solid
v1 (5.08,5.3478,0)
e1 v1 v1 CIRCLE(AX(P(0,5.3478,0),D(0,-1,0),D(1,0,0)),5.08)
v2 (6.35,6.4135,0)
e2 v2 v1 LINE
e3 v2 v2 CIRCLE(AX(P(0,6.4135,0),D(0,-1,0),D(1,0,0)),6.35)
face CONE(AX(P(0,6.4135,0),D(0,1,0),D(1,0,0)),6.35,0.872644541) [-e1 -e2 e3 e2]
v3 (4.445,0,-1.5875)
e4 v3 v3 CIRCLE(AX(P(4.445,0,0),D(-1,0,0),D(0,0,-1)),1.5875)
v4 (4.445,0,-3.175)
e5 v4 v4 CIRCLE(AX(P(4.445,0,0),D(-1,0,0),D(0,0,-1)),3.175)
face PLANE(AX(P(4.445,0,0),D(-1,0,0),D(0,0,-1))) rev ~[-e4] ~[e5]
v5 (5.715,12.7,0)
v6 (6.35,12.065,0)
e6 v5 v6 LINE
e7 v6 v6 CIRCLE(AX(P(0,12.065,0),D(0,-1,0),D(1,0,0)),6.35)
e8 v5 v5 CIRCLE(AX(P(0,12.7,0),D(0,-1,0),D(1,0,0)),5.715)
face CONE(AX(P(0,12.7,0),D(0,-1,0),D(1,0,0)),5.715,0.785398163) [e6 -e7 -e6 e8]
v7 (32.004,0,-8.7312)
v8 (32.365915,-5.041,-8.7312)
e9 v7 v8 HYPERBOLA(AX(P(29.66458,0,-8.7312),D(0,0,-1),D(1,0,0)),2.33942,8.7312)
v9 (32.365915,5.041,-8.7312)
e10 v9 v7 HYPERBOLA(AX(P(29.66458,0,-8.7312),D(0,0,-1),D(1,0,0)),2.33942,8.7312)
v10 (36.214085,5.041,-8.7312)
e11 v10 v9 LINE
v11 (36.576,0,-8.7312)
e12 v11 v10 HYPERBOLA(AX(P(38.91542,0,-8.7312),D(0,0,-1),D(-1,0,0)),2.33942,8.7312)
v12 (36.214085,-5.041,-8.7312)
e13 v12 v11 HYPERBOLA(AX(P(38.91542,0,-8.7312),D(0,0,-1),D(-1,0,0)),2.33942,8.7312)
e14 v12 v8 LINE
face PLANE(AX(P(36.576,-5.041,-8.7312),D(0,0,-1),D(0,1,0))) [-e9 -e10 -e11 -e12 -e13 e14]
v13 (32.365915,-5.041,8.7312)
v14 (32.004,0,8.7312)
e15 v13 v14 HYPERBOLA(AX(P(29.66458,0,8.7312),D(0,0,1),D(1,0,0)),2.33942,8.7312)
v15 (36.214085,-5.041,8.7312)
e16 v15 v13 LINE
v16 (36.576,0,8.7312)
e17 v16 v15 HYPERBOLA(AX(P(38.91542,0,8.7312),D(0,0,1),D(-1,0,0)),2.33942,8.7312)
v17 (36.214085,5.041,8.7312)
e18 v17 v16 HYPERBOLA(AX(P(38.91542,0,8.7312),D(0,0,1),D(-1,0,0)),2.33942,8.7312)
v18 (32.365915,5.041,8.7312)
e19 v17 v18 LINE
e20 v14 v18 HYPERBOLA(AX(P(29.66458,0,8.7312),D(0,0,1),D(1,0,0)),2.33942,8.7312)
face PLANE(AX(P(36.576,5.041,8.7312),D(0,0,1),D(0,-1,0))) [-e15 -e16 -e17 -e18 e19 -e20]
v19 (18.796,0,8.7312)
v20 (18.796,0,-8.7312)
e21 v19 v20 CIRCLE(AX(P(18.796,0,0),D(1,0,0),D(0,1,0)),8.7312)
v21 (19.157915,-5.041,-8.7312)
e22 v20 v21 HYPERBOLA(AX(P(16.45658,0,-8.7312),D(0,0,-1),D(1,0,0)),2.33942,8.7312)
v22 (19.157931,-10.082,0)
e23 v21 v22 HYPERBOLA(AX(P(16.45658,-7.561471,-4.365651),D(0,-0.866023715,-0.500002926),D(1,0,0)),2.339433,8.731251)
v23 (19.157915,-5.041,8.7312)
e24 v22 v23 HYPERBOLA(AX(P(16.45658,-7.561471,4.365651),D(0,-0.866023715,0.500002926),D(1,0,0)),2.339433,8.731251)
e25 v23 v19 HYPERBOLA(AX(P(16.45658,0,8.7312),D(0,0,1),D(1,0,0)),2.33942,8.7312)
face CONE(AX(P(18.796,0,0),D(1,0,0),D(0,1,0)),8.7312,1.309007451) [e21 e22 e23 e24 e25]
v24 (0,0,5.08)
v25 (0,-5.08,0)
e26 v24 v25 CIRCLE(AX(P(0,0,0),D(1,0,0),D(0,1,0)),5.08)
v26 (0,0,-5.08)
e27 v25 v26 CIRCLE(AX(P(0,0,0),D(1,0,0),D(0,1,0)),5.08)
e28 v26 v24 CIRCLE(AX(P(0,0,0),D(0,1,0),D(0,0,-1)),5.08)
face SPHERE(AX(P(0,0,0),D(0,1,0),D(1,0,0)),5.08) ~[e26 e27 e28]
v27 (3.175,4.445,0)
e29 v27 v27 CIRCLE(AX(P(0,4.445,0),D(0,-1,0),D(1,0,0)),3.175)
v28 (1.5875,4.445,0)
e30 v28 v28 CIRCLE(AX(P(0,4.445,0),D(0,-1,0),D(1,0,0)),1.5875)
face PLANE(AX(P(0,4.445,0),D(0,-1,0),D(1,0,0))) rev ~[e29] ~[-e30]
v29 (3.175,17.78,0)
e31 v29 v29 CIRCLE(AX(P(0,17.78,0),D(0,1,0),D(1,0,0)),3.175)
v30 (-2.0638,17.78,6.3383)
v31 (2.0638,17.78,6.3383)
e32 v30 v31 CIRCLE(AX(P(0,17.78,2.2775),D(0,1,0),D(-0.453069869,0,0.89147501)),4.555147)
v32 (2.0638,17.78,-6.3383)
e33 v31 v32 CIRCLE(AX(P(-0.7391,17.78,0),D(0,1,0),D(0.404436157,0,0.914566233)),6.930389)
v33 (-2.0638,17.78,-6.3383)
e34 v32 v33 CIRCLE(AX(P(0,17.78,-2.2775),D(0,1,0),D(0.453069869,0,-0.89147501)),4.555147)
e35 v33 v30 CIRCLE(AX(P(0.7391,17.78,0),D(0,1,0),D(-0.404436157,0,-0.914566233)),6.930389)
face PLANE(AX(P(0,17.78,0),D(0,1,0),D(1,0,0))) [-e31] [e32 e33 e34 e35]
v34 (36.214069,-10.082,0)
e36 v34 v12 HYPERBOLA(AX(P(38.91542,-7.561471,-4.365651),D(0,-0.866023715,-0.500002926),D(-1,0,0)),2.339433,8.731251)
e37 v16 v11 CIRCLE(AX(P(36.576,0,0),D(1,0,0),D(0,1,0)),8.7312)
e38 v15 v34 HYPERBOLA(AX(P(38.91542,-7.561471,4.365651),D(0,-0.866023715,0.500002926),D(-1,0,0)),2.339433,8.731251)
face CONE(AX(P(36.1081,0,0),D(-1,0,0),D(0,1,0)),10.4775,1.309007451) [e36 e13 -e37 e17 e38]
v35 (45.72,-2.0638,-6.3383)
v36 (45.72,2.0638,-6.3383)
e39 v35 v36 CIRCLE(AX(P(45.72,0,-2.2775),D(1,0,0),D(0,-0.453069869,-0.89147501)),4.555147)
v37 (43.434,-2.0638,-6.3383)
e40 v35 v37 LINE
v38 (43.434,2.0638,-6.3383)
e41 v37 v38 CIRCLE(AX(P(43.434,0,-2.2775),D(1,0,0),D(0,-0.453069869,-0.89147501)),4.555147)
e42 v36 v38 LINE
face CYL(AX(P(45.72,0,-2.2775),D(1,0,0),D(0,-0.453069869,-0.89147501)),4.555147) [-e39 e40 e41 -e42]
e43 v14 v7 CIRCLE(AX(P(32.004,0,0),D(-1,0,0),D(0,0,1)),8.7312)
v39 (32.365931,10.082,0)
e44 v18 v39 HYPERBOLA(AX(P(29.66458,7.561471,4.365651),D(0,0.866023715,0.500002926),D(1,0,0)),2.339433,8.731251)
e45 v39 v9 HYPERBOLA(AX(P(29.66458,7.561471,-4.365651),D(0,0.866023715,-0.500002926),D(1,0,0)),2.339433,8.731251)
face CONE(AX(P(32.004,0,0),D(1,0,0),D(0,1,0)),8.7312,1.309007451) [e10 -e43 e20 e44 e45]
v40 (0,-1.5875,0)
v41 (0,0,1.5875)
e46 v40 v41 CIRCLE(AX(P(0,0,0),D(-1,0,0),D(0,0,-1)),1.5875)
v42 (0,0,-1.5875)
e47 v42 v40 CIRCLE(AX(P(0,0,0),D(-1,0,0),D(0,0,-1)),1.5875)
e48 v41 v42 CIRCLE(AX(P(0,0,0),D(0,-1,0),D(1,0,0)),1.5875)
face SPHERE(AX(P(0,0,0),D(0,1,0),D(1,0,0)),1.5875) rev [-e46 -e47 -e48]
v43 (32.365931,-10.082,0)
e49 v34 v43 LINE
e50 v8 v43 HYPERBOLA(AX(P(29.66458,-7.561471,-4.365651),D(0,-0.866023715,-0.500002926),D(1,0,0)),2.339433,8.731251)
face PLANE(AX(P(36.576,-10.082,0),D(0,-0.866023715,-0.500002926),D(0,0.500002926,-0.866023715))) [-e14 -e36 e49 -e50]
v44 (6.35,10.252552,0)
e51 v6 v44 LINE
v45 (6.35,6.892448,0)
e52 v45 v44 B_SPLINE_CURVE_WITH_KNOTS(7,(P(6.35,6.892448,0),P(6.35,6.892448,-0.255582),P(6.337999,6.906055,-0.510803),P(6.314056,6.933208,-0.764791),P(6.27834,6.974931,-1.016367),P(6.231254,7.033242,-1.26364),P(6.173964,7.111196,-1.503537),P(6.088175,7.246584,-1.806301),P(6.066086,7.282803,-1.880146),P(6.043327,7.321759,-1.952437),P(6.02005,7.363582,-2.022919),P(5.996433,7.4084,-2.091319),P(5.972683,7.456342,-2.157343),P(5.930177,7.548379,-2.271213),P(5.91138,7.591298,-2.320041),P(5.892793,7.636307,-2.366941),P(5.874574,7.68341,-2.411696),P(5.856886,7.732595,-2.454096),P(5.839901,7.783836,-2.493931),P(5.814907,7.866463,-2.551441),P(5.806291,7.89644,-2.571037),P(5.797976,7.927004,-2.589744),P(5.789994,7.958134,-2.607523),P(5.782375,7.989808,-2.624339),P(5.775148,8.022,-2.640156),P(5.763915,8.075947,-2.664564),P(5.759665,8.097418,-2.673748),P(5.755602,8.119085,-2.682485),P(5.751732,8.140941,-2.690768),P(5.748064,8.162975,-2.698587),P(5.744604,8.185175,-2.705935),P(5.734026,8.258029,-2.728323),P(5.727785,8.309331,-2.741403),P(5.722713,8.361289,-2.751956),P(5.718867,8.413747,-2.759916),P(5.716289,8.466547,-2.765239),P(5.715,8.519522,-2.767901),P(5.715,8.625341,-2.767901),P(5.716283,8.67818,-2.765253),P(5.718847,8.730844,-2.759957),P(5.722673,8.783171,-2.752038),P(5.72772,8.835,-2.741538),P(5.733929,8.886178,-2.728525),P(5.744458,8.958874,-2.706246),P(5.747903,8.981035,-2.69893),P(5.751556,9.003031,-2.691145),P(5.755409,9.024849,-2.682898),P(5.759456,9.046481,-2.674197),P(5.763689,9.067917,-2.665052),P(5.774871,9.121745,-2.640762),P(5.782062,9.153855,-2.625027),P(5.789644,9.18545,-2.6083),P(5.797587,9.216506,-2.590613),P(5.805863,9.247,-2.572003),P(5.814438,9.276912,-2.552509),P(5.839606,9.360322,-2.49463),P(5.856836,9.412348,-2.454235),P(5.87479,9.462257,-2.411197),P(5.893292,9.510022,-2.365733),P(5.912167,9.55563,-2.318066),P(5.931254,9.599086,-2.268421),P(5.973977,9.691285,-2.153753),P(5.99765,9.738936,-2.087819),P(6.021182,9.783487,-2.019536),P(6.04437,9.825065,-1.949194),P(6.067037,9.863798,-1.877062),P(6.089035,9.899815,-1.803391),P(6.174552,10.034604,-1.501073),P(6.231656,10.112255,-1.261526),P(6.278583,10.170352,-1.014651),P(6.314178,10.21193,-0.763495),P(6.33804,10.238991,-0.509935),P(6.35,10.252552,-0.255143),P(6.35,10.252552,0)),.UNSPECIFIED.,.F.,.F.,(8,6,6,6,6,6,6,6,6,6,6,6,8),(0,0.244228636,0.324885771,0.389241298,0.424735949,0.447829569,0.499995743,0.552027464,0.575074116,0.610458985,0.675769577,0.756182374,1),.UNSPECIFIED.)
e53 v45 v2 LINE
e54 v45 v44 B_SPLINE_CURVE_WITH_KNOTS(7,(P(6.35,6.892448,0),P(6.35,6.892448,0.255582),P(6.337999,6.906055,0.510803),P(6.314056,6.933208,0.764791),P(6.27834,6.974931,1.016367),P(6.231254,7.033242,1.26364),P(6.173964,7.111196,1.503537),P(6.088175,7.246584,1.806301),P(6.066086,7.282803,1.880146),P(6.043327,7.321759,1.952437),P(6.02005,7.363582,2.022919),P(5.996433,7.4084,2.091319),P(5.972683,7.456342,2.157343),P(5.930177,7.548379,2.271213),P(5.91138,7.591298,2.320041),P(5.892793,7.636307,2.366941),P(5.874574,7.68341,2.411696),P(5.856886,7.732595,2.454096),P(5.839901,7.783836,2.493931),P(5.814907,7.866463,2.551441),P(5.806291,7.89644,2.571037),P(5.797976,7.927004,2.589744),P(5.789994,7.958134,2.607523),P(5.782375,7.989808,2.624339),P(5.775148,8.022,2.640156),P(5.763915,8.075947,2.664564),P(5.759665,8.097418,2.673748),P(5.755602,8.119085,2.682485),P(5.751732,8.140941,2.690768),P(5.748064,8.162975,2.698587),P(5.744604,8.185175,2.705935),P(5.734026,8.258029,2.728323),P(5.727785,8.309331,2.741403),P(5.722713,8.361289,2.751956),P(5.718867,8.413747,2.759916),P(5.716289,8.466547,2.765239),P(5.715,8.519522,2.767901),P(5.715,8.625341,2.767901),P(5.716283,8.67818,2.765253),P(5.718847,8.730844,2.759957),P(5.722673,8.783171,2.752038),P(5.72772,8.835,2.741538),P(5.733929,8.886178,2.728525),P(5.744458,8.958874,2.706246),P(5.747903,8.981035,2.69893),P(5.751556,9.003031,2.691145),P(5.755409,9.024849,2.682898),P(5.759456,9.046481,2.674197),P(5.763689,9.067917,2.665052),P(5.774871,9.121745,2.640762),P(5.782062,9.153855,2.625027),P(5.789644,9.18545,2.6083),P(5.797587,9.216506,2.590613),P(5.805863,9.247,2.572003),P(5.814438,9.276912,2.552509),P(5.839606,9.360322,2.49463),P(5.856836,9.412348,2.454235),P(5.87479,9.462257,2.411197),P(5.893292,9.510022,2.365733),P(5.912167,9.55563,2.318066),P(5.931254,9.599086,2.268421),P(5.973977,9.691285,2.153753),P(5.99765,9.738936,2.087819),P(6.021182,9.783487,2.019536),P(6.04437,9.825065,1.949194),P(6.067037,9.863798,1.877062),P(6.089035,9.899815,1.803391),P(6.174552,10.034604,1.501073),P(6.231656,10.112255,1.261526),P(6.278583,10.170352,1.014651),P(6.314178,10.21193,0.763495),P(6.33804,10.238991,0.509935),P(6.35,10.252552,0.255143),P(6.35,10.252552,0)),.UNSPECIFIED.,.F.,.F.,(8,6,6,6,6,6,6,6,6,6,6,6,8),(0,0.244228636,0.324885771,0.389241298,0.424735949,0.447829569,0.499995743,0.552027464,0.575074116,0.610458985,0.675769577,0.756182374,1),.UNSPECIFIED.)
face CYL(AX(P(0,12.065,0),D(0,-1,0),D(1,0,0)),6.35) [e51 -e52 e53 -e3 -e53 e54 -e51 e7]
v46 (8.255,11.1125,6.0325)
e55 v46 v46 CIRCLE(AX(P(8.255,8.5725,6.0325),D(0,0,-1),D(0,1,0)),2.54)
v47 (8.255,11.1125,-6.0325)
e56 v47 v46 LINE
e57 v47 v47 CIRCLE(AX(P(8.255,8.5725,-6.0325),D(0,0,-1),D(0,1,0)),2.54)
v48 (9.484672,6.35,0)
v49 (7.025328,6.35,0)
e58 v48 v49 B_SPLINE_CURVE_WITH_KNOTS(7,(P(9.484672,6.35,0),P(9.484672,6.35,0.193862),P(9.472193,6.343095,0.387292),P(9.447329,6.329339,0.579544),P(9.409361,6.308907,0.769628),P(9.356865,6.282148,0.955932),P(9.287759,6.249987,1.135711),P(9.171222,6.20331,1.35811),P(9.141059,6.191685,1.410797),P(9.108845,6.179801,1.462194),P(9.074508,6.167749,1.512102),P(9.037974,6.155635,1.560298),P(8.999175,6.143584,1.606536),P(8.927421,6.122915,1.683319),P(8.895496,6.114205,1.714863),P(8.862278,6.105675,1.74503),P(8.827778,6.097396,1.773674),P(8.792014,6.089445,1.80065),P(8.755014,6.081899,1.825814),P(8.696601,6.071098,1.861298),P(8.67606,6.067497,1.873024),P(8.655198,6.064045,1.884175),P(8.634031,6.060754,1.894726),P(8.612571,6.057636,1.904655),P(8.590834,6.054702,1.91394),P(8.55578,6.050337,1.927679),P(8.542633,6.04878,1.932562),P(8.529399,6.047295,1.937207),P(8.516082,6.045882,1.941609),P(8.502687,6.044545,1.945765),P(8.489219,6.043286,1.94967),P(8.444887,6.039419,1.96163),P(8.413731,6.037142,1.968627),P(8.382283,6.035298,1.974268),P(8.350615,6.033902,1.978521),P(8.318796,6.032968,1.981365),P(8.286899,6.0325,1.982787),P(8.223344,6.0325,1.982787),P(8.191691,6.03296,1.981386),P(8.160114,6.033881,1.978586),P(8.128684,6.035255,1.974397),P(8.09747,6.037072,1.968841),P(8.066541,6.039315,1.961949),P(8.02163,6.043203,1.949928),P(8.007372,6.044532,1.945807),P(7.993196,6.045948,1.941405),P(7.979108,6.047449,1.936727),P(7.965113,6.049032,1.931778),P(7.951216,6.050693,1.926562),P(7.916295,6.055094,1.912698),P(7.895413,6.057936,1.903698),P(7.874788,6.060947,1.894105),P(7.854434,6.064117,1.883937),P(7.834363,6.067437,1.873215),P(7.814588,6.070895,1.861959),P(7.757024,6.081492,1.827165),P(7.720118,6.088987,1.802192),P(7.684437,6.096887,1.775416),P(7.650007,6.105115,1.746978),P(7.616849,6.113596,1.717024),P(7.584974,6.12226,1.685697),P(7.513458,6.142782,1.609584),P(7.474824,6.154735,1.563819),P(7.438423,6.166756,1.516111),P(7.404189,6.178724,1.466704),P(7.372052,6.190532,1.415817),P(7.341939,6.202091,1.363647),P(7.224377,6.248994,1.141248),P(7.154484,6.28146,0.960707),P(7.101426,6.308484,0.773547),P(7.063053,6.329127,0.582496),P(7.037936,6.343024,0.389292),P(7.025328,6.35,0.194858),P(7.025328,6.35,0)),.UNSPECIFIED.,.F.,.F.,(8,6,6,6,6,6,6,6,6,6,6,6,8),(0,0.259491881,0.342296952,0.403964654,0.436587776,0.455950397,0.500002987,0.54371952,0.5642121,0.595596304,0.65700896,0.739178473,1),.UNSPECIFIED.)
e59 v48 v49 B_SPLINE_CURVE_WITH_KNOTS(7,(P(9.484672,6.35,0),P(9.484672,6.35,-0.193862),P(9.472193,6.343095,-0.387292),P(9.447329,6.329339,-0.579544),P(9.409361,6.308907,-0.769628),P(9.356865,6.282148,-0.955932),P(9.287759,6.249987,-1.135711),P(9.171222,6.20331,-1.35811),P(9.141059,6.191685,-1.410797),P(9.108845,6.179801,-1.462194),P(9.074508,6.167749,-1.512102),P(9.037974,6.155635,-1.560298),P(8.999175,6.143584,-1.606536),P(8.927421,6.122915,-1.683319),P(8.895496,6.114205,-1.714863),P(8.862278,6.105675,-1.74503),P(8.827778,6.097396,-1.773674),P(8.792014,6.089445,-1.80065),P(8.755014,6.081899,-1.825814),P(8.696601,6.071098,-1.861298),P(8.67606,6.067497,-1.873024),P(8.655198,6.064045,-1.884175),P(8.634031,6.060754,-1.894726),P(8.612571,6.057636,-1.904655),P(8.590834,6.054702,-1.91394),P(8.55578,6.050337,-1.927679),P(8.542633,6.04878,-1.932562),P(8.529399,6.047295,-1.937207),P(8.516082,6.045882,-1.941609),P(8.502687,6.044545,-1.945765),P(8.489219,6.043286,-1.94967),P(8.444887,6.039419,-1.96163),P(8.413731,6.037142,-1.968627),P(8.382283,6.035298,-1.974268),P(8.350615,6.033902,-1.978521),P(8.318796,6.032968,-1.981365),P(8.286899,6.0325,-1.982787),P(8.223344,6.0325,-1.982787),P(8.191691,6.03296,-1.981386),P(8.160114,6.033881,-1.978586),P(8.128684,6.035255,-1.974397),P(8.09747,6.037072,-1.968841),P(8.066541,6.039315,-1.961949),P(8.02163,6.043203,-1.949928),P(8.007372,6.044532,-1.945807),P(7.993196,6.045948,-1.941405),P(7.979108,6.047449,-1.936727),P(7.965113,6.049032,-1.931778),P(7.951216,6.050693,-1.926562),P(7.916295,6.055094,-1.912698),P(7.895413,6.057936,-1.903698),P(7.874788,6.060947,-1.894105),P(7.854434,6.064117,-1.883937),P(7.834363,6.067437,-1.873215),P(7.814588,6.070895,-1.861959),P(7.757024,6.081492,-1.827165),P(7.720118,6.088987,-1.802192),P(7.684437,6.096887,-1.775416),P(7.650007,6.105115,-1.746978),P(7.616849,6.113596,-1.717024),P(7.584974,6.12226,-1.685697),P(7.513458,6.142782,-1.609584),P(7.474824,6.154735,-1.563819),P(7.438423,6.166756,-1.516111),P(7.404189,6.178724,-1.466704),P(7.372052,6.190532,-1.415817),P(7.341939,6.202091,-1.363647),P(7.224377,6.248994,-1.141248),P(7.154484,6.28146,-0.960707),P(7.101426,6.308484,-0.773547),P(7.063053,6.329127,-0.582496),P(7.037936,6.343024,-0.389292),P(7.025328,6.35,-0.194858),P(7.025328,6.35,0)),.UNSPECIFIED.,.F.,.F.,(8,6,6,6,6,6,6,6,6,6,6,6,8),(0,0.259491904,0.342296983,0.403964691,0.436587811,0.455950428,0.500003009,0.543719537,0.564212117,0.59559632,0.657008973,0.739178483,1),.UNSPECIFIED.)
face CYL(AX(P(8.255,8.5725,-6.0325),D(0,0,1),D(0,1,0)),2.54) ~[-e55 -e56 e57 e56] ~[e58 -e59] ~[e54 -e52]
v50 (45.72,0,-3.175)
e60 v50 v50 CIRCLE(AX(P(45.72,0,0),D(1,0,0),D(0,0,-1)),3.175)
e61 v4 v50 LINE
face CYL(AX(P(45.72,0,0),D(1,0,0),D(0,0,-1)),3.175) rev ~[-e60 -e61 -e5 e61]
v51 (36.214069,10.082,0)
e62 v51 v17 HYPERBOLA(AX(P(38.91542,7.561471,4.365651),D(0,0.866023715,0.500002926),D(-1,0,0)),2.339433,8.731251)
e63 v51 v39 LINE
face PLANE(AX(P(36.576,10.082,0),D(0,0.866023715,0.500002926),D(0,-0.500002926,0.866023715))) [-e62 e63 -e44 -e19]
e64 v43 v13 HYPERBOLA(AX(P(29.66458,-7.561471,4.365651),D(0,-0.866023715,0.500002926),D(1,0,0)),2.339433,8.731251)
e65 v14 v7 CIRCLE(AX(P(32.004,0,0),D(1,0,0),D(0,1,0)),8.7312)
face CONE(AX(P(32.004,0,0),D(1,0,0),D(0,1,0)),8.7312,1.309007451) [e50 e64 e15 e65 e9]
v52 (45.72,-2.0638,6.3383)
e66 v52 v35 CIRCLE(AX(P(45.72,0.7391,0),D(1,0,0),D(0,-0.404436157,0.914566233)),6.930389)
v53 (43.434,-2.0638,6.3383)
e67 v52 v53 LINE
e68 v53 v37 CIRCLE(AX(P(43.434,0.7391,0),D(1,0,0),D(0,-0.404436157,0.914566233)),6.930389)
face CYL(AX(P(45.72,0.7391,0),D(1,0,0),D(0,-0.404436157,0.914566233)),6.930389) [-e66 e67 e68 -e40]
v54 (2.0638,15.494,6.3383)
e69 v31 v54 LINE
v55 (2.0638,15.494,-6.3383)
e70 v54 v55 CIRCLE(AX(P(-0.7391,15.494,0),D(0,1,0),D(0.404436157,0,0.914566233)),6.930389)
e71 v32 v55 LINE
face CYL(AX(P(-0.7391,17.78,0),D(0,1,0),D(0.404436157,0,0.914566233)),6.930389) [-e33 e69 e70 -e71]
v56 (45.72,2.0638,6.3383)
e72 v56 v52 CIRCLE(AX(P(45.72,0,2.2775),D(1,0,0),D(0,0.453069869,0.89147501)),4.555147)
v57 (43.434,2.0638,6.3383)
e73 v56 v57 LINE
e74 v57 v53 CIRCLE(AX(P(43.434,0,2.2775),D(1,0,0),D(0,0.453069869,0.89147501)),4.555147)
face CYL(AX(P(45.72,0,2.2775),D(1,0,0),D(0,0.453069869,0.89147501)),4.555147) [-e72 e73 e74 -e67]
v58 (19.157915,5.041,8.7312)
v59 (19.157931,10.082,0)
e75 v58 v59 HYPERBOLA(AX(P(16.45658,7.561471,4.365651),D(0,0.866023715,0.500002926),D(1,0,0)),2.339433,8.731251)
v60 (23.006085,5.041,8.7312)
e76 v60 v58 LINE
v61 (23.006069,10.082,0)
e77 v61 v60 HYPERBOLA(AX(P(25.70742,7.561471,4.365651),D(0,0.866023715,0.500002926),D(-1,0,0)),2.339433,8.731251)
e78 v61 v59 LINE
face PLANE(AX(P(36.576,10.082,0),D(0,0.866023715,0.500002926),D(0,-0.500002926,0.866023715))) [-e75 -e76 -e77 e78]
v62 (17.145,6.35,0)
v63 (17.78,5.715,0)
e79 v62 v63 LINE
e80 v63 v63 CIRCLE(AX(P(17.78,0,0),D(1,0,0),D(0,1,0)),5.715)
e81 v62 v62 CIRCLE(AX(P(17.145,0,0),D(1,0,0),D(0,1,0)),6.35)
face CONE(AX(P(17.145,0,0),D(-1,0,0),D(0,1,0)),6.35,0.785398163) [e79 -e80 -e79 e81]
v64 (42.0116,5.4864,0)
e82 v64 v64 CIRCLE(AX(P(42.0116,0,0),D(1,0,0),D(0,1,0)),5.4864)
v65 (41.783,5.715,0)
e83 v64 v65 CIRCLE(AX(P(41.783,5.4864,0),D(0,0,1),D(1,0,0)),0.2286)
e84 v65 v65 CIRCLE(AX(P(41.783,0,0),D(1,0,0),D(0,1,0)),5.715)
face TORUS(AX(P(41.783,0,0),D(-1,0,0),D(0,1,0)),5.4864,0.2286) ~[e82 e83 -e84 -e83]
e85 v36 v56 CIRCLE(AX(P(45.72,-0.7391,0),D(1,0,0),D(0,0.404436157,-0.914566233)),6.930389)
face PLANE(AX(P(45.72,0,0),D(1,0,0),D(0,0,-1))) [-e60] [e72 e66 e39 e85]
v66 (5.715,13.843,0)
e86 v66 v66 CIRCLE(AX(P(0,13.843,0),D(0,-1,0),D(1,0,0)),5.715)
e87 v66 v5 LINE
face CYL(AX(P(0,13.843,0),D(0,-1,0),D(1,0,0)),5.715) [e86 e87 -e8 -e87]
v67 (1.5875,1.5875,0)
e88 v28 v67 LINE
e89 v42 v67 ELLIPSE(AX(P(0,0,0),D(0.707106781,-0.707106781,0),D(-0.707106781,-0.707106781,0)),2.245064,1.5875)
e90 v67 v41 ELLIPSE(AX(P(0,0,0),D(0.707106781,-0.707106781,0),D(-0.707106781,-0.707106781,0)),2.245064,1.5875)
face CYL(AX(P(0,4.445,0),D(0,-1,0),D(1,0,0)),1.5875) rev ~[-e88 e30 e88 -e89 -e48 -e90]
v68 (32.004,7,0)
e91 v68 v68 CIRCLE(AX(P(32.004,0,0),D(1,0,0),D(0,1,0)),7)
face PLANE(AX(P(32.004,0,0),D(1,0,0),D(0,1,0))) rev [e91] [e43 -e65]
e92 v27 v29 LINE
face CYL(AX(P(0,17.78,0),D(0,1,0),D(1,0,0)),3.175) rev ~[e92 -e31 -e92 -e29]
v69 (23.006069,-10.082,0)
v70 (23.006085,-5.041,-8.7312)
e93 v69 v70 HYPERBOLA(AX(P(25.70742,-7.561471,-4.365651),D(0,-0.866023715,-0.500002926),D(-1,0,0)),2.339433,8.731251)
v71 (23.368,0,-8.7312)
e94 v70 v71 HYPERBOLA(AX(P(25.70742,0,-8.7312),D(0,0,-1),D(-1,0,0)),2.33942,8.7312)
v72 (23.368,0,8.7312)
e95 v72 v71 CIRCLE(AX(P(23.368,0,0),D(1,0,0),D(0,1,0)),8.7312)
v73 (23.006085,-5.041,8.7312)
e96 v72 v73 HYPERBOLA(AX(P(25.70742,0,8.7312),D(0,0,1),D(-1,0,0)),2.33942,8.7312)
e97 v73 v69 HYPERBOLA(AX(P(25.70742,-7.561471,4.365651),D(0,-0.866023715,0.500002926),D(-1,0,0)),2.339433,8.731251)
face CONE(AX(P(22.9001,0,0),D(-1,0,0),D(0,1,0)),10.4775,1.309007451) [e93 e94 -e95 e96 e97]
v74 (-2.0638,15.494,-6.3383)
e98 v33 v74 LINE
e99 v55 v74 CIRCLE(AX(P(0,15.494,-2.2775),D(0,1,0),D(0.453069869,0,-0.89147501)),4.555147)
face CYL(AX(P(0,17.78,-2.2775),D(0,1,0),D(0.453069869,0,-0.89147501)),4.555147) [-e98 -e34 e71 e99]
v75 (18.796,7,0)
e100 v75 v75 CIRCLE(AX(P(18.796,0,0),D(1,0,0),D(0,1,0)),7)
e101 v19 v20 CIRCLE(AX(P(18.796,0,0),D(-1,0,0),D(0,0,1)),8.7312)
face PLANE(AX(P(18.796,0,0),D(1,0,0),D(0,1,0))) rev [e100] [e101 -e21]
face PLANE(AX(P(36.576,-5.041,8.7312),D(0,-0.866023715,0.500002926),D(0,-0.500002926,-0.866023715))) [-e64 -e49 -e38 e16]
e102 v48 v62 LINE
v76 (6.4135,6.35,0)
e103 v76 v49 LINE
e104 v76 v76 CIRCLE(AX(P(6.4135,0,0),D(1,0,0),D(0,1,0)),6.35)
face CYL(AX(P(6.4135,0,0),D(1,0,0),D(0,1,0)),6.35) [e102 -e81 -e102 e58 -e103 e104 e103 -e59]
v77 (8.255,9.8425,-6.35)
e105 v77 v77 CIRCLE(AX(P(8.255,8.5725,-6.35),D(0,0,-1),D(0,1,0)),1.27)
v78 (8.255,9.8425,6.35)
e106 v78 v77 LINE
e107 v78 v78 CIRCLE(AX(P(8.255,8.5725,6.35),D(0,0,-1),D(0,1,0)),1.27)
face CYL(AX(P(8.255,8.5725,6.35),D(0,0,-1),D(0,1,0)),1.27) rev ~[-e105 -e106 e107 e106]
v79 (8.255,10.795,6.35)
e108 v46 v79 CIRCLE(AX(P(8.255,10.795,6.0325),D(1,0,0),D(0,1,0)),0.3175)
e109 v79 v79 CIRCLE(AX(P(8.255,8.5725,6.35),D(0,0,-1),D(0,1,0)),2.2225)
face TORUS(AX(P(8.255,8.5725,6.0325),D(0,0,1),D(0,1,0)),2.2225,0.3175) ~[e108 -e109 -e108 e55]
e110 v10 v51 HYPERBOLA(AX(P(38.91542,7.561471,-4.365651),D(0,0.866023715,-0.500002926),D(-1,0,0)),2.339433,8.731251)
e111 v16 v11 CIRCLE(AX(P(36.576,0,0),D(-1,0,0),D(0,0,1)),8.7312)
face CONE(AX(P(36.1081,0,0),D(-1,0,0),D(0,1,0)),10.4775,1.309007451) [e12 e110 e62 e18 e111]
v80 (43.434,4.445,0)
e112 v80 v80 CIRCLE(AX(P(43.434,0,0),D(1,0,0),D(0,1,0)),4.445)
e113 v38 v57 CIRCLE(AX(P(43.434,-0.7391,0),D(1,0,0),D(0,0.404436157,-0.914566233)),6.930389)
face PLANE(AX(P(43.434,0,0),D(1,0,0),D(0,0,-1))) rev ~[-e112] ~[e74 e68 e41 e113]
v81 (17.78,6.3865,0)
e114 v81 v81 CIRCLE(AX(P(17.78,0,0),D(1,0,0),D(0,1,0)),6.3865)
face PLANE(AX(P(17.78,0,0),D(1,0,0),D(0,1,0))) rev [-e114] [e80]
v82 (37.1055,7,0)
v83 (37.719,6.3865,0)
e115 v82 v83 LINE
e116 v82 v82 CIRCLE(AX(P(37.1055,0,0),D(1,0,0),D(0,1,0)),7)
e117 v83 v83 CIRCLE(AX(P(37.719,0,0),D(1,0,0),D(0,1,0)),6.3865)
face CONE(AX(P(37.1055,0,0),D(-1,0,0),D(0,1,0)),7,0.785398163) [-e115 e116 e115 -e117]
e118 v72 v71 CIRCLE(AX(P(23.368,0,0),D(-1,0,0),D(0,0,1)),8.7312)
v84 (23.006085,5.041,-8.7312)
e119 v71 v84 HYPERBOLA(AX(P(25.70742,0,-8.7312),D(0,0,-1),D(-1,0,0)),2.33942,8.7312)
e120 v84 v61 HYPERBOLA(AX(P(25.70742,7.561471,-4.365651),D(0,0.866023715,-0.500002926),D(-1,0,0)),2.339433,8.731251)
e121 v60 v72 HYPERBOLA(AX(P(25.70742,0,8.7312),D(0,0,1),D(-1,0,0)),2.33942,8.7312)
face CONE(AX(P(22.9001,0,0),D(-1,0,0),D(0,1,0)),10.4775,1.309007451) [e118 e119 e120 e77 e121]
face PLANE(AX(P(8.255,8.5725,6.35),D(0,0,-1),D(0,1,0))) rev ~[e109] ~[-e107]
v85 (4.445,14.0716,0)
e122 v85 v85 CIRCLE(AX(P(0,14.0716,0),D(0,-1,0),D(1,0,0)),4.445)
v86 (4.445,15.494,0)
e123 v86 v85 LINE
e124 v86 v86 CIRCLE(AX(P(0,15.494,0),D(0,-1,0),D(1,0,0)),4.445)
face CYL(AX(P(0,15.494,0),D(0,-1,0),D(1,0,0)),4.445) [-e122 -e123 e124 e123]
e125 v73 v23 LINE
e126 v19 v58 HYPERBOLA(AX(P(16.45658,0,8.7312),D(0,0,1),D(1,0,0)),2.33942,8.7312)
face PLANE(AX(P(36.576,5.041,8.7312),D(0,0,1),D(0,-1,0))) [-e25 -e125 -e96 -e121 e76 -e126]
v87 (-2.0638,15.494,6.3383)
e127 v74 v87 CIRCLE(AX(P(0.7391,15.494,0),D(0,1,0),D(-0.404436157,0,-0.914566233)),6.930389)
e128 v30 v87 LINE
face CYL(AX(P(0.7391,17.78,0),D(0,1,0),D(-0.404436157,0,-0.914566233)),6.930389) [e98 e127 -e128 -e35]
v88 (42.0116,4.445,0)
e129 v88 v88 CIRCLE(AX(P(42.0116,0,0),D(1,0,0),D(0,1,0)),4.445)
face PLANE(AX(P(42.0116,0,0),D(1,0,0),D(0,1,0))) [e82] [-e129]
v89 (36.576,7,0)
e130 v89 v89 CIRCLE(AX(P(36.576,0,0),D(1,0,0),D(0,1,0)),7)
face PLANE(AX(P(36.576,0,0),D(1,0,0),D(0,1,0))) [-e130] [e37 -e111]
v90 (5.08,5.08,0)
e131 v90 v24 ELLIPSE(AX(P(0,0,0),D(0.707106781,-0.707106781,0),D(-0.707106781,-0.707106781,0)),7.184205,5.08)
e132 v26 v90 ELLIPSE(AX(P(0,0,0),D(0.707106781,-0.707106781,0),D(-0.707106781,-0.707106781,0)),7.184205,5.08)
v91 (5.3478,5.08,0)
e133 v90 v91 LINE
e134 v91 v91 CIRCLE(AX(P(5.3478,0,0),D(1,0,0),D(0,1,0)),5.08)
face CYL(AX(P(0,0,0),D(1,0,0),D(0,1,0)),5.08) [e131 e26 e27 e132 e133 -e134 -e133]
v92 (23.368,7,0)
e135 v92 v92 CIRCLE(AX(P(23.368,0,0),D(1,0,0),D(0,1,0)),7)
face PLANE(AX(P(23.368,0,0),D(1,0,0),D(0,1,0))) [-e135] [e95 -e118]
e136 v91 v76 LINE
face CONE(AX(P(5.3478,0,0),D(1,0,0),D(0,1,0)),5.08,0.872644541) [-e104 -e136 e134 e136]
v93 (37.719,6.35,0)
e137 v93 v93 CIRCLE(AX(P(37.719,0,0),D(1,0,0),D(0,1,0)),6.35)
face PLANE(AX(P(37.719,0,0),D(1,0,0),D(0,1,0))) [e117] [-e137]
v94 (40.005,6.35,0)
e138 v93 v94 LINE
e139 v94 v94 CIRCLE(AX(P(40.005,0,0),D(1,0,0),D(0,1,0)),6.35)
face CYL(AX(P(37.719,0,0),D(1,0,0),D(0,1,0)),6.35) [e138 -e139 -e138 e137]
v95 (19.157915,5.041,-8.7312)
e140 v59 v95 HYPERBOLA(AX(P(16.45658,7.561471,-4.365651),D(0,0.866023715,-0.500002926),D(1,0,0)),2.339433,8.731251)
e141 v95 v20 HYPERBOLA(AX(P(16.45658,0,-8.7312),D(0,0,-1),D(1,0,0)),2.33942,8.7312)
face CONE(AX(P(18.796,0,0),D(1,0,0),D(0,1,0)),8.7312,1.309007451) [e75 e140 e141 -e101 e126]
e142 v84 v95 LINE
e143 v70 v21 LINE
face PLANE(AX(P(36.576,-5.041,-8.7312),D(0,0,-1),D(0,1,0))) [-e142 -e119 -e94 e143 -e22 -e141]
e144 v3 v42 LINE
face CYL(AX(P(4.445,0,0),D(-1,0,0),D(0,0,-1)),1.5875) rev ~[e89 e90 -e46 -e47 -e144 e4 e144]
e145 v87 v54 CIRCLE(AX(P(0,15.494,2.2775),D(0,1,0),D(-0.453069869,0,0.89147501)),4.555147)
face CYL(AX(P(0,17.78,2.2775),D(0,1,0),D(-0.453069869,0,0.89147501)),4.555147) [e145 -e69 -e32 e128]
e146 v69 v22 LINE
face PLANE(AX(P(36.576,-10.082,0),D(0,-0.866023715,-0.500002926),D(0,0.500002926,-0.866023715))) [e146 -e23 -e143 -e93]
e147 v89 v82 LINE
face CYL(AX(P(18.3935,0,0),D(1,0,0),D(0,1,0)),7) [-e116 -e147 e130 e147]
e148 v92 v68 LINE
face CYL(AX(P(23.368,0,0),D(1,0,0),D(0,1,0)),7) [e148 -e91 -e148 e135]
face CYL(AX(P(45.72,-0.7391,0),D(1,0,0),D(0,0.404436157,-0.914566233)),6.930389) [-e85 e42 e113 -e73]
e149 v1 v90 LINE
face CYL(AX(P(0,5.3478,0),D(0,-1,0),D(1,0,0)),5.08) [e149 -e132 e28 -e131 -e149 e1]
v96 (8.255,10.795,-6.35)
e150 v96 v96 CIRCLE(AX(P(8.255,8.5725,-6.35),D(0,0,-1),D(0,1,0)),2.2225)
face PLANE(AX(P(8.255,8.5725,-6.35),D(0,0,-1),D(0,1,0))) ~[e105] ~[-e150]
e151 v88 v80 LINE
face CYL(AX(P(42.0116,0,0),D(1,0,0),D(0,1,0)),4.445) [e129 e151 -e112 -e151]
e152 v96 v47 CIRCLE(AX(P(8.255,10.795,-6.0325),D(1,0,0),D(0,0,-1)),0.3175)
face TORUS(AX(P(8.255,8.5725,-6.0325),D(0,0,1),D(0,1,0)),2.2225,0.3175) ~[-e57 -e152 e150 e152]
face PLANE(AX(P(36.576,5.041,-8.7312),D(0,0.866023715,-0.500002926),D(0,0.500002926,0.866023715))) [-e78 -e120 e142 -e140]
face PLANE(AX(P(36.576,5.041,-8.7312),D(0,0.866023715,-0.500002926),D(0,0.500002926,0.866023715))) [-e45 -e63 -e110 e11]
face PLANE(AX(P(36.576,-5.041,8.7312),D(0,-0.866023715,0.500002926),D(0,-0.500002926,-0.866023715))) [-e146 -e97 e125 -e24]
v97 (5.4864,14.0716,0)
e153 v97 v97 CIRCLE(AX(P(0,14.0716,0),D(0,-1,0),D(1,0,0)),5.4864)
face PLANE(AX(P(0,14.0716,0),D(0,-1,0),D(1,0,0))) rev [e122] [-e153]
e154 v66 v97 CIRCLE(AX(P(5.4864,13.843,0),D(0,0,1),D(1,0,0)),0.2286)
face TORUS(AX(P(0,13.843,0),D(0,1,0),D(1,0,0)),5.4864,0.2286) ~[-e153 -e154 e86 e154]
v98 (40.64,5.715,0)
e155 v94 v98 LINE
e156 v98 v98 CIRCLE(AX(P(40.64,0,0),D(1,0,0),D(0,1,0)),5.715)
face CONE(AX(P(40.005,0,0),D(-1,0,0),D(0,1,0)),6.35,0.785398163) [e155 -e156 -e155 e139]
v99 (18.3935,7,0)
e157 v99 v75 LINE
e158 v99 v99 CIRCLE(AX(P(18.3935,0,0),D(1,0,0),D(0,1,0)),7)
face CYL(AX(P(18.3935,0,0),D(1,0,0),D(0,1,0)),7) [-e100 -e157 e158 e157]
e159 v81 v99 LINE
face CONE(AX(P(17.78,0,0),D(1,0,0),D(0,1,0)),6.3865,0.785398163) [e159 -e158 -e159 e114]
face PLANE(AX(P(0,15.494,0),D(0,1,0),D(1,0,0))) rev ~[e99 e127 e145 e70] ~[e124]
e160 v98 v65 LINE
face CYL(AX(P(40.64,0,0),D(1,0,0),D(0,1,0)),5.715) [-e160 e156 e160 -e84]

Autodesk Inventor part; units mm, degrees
sketch "Sketch_1" plane through (0, 0, 0) normal (0, 0, 1) x (1, 0, 0)
  line L0 (0, -5.08) -> (0, 17.78)
  line L1 (0, 17.78) -> (5.8928, 17.78)
  arc A0 (6.35, 17.3228) -> (5.8928, 17.78) centre (5.8928, 17.3228) ccw
  line L2 (6.35, 17.3228) -> (6.35, 15.494)
  line L3 (6.35, 15.494) -> (4.445, 15.494)
  line L4 (4.445, 15.494) -> (4.445, 14.0716)
  line L5 (4.445, 14.0716) -> (5.4864, 14.0716)
  arc A1 (5.715, 13.843) -> (5.4864, 14.0716) centre (5.4864, 13.843) ccw
  line L6 (5.715, 13.843) -> (5.715, 12.7)
  line L7 (5.715, 12.7) -> (6.35, 12.065)
  line L8 (6.35, 12.065) -> (6.35, 6.4135)
  line L9 (6.35, 6.4135) -> (5.08, 5.3478)
  line L10 (5.08, 5.3478) -> (5.08, 0)
  arc A2 (0, -5.08) -> (5.08, 0) centre (0, 0) ccw
  line L11 (0, -5.08) -> (0, 17.78)
revolve "Revolution1" add sketch "Sketch_1" angle 360 about axis through (0, -5.08, 0) along (0, -1, 0)
sketch "Sketch_2" plane through (0, 0, 0) normal (0, 0, 1) x (1, 0, 0)
  line L0 (45.72, 0) -> (-5.08, 0)
  line L1 (-5.08, 0) -> (0, 5.08)
  line L2 (0, 5.08) -> (5.3478, 5.08)
  line L3 (5.3478, 5.08) -> (6.4135, 6.35)
  line L4 (6.4135, 6.35) -> (17.145, 6.35)
  line L5 (17.145, 6.35) -> (17.78, 5.715)
  line L6 (17.78, 5.715) -> (17.78, 6.3865)
  line L7 (17.78, 6.3865) -> (18.3935, 7)
  line L8 (18.3935, 7) -> (37.1055, 7)
  line L9 (37.1055, 7) -> (37.719, 6.3865)
  line L10 (37.719, 6.3865) -> (37.719, 6.35)
  line L11 (37.719, 6.35) -> (40.005, 6.35)
  line L12 (40.005, 6.35) -> (40.64, 5.715)
  line L13 (40.64, 5.715) -> (41.783, 5.715)
  arc A0 (42.0116, 5.4864) -> (41.783, 5.715) centre (41.783, 5.4864) ccw
  line L14 (42.0116, 5.4864) -> (42.0116, 4.445)
  line L15 (42.0116, 4.445) -> (43.434, 4.445)
  line L16 (43.434, 4.445) -> (43.434, 6.35)
  line L17 (43.434, 6.35) -> (45.2628, 6.35)
  arc A1 (45.72, 5.8928) -> (45.2628, 6.35) centre (45.2628, 5.8928) ccw
  line L18 (45.72, 5.8928) -> (45.72, 0)
  line L19 (45.72, 0) -> (-5.08, 0)
revolve "Revolution2" add sketch "Sketch_2" angle 360 about axis through (45.72, 0, 0) along (1, 0, 0)
thread "Thread1" size "M14x1" class "6g" standard "ISO Metric profile" full length
sketch "Sketch_6" plane through (0, 0, 0) normal (0, 0, 1) x (1, 0, 0)
  line L0 (36.576, 0) -> (0, 0)
  line L1 (0, 0) -> (0, 3.175)
  line L2 (0, 3.175) -> (18.796, 3.175)
  line L3 (18.796, 3.175) -> (18.796, 8.7312)
  line L4 (18.796, 8.7312) -> (19.2639, 10.4775)
  line L5 (19.2639, 10.4775) -> (22.9001, 10.4775)
  line L6 (22.9001, 10.4775) -> (23.368, 8.7312)
  line L7 (23.368, 8.7312) -> (23.368, 7)
  line L8 (23.368, 7) -> (32.004, 7)
  line L9 (32.004, 7) -> (32.004, 8.7312)
  line L10 (32.004, 8.7312) -> (32.4719, 10.4775)
  line L11 (32.4719, 10.4775) -> (36.1081, 10.4775)
  line L12 (36.1081, 10.4775) -> (36.576, 8.7312)
  line L13 (36.576, 8.7312) -> (36.576, 0)
  line L14 (36.576, 0) -> (0, 0)
revolve "Revolution3" add sketch "Sketch_6" angle 360 about axis through (36.576, 0, 0) along (1, 0, 0)
sketch "Sketch_3" plane through (8.255, 0, 0) normal (1, 0, 0) x (0, 0, -1)
  line L0 (6.35, 8.5725) -> (-6.35, 8.5725)
  line L1 (-6.35, 9.8425) -> (6.35, 9.8425)
  line L2 (6.35, 9.8425) -> (6.35, 10.795)
  arc A0 (6.35, 10.795) -> (6.0325, 11.1125) centre (6.0325, 10.795) ccw
  line L3 (6.0325, 11.1125) -> (-6.0325, 11.1125)
  arc A1 (-6.0325, 11.1125) -> (-6.35, 10.795) centre (-6.0325, 10.795) ccw
  line L4 (-6.35, 10.795) -> (-6.35, 9.8425)
revolve "Revolution4" add sketch "Sketch_3" angle 360 about axis through (8.255, 8.5725, -6.35) along (0, 0, -1)
sketch "Sketch_4" plane through (0, 0, 0) normal (0, 0, 1) x (1, 0, 0)
  line L0 (0, -1.5875) -> (0, 17.78)
  line L1 (0, 17.78) -> (3.175, 17.78)
  line L2 (3.175, 17.78) -> (3.175, 4.445)
  line L3 (3.175, 4.445) -> (1.5875, 4.445)
  line L4 (1.5875, 4.445) -> (1.5875, 0)
  arc A0 (0, -1.5875) -> (1.5875, 0) centre (0, 0) ccw
  line L5 (0, -1.5875) -> (0, 17.78)
revolve "Revolution5" cut sketch "Sketch_4" angle 360 about axis through (0, -1.5875, 0) along (0, -1, 0)
sketch "Sketch6" plane through (45.72, 0, 0) normal (1, 0, 0) x (0, 0, -1)
  point P0 (0, 0)
hole "Hole1" at (45.72, 0, 0) direction (-1, 0, 0) diameter 3.175 depth 45.72 counterbore diameter 6.35 counterbore depth 41.275
sketch "Sketch_7" plane through (36.576, 0, 0) normal (1, 0, 0) x (0, 0, -1)
  line L0 (-17.4625, -10.082) -> (0, -20.164)
  line L1 (0, -20.164) -> (17.4625, -10.082)
  line L2 (17.4625, -10.082) -> (17.4625, 10.082)
  line L3 (17.4625, 10.082) -> (0, 20.164)
  line L4 (0, 20.164) -> (-17.4625, 10.082)
  line L5 (-17.4625, 10.082) -> (-17.4625, -10.082)
  line L6 (-8.7312, -5.041) -> (0, -10.082)
  line L7 (0, -10.082) -> (8.7312, -5.041)
  line L8 (8.7312, -5.041) -> (8.7312, 5.041)
  line L9 (8.7312, 5.041) -> (0, 10.082)
  line L10 (0, 10.082) -> (-8.7312, 5.041)
  line L11 (-8.7312, 5.041) -> (-8.7312, -5.041)
extrude "Extrusion1" cut sketch "Sketch_7" against normal blind 22.86
sketch "Sketch_10" plane through (0, 0, 0) normal (0, 0, 1) x (1, 0, 0)
  line L0 (-6.35, 15.494) -> (43.434, 15.494)
  line L1 (43.434, 15.494) -> (43.434, -6.35)
  line L2 (43.434, -6.35) -> (45.72, -6.35)
  line L3 (45.72, -6.35) -> (45.72, 17.78)
  line L4 (45.72, 17.78) -> (-6.35, 17.78)
  line L5 (-6.35, 17.78) -> (-6.35, 15.494)
extrude "Extrusion2" cut sketch "Sketch_10" along normal mid plane 12.7
sketch "Sketch_11" plane through (45.72, 0, 0) normal (1, 0, 0) x (0, 0, -1)
  arc A0 (-6.3383, 2.0638) -> (-6.3383, -2.0638) centre (-2.2775, 0) ccw
  arc A1 (-6.3383, -2.0638) -> (6.3383, -2.0638) centre (0, 0.7391) ccw
  arc A2 (6.3383, -2.0638) -> (6.3383, 2.0638) centre (2.2775, 0) ccw
  arc A3 (6.3383, 2.0638) -> (-6.3383, 2.0638) centre (0, -0.7391) ccw
  circle A4 centre (0, 0) radius 3.175
extrude "Extrusion3" add sketch "Sketch_11" against normal blind 2.286
sketch "Sketch_12" plane through (0, 17.78, 0) normal (0, 1, 0) x (1, 0, 0)
  arc A0 (-2.0638, 6.3383) -> (-2.0638, -6.3383) centre (0.7391, 0) ccw
  arc A1 (-2.0638, -6.3383) -> (2.0638, -6.3383) centre (0, -2.2775) ccw
  arc A2 (2.0638, -6.3383) -> (2.0638, 6.3383) centre (-0.7391, 0) ccw
  arc A3 (2.0638, 6.3383) -> (-2.0638, 6.3383) centre (0, 2.2775) ccw
  circle A4 centre (0, 0) radius 3.175
extrude "Extrusion4" add sketch "Sketch_12" against normal blind 2.286
ref_plane "b1_XY" through (0, 0, 0) normal (0, 0, 1) x (1, 0, 0)
ref_plane "b1_YZ" through (0, 0, 0) normal (1, 0, 0) x (0, 1, 0)
ref_plane "b1_ZX" through (0, 0, 0) normal (0, 1, 0) x (0, 0, 1)
ref_plane "b2_XY" through (45.72, 0, 0) normal (0, 0, 1) x (1, 0, 0)
ref_plane "b2_YZ" through (45.72, 0, 0) normal (1, 0, 0) x (0, 1, 0)
ref_plane "b2_ZX" through (45.72, 0, 0) normal (0, 1, 0) x (0, 0, 1)
ref_plane "d1_XY" through (45.72, 3.175, 0) normal (0, 0, 1) x (1, 0, 0)
ref_plane "d1_YZ" through (45.72, 3.175, 0) normal (1, 0, 0) x (0, 1, 0)
ref_plane "d1_ZX" through (45.72, 3.175, 0) normal (0, 1, 0) x (0, 0, 1)
ref_plane "d2_XY" through (45.72, -3.175, 0) normal (0, 0, 1) x (1, 0, 0)
ref_plane "d2_YZ" through (45.72, -3.175, 0) normal (1, 0, 0) x (0, 1, 0)
ref_plane "d2_ZX" through (45.72, -3.175, 0) normal (0, 1, 0) x (0, 0, 1)
ref_plane "dd1_XY" through (-3.175, 17.78, 0) normal (0, 0, 1) x (1, 0, 0)
ref_plane "dd1_YZ" through (-3.175, 17.78, 0) normal (1, 0, 0) x (0, 1, 0)
ref_plane "dd1_ZX" through (-3.175, 17.78, 0) normal (0, 1, 0) x (0, 0, 1)
ref_plane "dd2_XY" through (3.175, 17.78, 0) normal (0, 0, 1) x (1, 0, 0)
ref_plane "dd2_YZ" through (3.175, 17.78, 0) normal (1, 0, 0) x (0, 1, 0)
ref_plane "dd2_ZX" through (3.175, 17.78, 0) normal (0, 1, 0) x (0, 0, 1)
ref_plane "e1_XY" through (0, 17.78, 0) normal (0, 0, 1) x (1, 0, 0)
ref_plane "e1_YZ" through (0, 17.78, 0) normal (1, 0, 0) x (0, 1, 0)
ref_plane "e1_ZX" through (0, 17.78, 0) normal (0, 1, 0) x (0, 0, 1)
ref_plane "h1_XY" through (36.576, 0, 8.7312) normal (1, 0, 0) x (0, 0, -1)
ref_plane "h1_YZ" through (36.576, 0, 8.7312) normal (0, 0, -1) x (0, 1, 0)
ref_plane "h1_ZX" through (36.576, 0, 8.7312) normal (0, 1, 0) x (1, 0, 0)
ref_plane "h2_XY" through (36.576, 0, -8.7312) normal (1, 0, 0) x (0, 0, -1)
ref_plane "h2_YZ" through (36.576, 0, -8.7312) normal (0, 0, -1) x (0, 1, 0)
ref_plane "h2_ZX" through (36.576, 0, -8.7312) normal (0, 1, 0) x (1, 0, 0)
ref_plane "m1_XY" through (36.576, 7, 0) normal (0, 0, 1) x (1, 0, 0)
ref_plane "m1_YZ" through (36.576, 7, 0) normal (1, 0, 0) x (0, 1, 0)
ref_plane "m1_ZX" through (36.576, 7, 0) normal (0, 1, 0) x (0, 0, 1)
ref_plane "m2_XY" through (36.576, -7, 0) normal (0, 0, 1) x (1, 0, 0)
ref_plane "m2_YZ" through (36.576, -7, 0) normal (1, 0, 0) x (0, 1, 0)
ref_plane "m2_ZX" through (36.576, -7, 0) normal (0, 1, 0) x (0, 0, 1)
ref_plane "p1_XY" through (-6.35, 12.065, 0) normal (0, 0, 1) x (1, 0, 0)
ref_plane "p1_YZ" through (-6.35, 12.065, 0) normal (1, 0, 0) x (0, 1, 0)
ref_plane "p1_ZX" through (-6.35, 12.065, 0) normal (0, 1, 0) x (0, 0, 1)
ref_plane "p2_XY" through (6.35, 12.065, 0) normal (0, 0, 1) x (1, 0, 0)
ref_plane "p2_YZ" through (6.35, 12.065, 0) normal (1, 0, 0) x (0, 1, 0)
ref_plane "p2_ZX" through (6.35, 12.065, 0) normal (0, 1, 0) x (0, 0, 1)
properties part number "ElbowBulkhead(0.25inOD)-1111-2017"
